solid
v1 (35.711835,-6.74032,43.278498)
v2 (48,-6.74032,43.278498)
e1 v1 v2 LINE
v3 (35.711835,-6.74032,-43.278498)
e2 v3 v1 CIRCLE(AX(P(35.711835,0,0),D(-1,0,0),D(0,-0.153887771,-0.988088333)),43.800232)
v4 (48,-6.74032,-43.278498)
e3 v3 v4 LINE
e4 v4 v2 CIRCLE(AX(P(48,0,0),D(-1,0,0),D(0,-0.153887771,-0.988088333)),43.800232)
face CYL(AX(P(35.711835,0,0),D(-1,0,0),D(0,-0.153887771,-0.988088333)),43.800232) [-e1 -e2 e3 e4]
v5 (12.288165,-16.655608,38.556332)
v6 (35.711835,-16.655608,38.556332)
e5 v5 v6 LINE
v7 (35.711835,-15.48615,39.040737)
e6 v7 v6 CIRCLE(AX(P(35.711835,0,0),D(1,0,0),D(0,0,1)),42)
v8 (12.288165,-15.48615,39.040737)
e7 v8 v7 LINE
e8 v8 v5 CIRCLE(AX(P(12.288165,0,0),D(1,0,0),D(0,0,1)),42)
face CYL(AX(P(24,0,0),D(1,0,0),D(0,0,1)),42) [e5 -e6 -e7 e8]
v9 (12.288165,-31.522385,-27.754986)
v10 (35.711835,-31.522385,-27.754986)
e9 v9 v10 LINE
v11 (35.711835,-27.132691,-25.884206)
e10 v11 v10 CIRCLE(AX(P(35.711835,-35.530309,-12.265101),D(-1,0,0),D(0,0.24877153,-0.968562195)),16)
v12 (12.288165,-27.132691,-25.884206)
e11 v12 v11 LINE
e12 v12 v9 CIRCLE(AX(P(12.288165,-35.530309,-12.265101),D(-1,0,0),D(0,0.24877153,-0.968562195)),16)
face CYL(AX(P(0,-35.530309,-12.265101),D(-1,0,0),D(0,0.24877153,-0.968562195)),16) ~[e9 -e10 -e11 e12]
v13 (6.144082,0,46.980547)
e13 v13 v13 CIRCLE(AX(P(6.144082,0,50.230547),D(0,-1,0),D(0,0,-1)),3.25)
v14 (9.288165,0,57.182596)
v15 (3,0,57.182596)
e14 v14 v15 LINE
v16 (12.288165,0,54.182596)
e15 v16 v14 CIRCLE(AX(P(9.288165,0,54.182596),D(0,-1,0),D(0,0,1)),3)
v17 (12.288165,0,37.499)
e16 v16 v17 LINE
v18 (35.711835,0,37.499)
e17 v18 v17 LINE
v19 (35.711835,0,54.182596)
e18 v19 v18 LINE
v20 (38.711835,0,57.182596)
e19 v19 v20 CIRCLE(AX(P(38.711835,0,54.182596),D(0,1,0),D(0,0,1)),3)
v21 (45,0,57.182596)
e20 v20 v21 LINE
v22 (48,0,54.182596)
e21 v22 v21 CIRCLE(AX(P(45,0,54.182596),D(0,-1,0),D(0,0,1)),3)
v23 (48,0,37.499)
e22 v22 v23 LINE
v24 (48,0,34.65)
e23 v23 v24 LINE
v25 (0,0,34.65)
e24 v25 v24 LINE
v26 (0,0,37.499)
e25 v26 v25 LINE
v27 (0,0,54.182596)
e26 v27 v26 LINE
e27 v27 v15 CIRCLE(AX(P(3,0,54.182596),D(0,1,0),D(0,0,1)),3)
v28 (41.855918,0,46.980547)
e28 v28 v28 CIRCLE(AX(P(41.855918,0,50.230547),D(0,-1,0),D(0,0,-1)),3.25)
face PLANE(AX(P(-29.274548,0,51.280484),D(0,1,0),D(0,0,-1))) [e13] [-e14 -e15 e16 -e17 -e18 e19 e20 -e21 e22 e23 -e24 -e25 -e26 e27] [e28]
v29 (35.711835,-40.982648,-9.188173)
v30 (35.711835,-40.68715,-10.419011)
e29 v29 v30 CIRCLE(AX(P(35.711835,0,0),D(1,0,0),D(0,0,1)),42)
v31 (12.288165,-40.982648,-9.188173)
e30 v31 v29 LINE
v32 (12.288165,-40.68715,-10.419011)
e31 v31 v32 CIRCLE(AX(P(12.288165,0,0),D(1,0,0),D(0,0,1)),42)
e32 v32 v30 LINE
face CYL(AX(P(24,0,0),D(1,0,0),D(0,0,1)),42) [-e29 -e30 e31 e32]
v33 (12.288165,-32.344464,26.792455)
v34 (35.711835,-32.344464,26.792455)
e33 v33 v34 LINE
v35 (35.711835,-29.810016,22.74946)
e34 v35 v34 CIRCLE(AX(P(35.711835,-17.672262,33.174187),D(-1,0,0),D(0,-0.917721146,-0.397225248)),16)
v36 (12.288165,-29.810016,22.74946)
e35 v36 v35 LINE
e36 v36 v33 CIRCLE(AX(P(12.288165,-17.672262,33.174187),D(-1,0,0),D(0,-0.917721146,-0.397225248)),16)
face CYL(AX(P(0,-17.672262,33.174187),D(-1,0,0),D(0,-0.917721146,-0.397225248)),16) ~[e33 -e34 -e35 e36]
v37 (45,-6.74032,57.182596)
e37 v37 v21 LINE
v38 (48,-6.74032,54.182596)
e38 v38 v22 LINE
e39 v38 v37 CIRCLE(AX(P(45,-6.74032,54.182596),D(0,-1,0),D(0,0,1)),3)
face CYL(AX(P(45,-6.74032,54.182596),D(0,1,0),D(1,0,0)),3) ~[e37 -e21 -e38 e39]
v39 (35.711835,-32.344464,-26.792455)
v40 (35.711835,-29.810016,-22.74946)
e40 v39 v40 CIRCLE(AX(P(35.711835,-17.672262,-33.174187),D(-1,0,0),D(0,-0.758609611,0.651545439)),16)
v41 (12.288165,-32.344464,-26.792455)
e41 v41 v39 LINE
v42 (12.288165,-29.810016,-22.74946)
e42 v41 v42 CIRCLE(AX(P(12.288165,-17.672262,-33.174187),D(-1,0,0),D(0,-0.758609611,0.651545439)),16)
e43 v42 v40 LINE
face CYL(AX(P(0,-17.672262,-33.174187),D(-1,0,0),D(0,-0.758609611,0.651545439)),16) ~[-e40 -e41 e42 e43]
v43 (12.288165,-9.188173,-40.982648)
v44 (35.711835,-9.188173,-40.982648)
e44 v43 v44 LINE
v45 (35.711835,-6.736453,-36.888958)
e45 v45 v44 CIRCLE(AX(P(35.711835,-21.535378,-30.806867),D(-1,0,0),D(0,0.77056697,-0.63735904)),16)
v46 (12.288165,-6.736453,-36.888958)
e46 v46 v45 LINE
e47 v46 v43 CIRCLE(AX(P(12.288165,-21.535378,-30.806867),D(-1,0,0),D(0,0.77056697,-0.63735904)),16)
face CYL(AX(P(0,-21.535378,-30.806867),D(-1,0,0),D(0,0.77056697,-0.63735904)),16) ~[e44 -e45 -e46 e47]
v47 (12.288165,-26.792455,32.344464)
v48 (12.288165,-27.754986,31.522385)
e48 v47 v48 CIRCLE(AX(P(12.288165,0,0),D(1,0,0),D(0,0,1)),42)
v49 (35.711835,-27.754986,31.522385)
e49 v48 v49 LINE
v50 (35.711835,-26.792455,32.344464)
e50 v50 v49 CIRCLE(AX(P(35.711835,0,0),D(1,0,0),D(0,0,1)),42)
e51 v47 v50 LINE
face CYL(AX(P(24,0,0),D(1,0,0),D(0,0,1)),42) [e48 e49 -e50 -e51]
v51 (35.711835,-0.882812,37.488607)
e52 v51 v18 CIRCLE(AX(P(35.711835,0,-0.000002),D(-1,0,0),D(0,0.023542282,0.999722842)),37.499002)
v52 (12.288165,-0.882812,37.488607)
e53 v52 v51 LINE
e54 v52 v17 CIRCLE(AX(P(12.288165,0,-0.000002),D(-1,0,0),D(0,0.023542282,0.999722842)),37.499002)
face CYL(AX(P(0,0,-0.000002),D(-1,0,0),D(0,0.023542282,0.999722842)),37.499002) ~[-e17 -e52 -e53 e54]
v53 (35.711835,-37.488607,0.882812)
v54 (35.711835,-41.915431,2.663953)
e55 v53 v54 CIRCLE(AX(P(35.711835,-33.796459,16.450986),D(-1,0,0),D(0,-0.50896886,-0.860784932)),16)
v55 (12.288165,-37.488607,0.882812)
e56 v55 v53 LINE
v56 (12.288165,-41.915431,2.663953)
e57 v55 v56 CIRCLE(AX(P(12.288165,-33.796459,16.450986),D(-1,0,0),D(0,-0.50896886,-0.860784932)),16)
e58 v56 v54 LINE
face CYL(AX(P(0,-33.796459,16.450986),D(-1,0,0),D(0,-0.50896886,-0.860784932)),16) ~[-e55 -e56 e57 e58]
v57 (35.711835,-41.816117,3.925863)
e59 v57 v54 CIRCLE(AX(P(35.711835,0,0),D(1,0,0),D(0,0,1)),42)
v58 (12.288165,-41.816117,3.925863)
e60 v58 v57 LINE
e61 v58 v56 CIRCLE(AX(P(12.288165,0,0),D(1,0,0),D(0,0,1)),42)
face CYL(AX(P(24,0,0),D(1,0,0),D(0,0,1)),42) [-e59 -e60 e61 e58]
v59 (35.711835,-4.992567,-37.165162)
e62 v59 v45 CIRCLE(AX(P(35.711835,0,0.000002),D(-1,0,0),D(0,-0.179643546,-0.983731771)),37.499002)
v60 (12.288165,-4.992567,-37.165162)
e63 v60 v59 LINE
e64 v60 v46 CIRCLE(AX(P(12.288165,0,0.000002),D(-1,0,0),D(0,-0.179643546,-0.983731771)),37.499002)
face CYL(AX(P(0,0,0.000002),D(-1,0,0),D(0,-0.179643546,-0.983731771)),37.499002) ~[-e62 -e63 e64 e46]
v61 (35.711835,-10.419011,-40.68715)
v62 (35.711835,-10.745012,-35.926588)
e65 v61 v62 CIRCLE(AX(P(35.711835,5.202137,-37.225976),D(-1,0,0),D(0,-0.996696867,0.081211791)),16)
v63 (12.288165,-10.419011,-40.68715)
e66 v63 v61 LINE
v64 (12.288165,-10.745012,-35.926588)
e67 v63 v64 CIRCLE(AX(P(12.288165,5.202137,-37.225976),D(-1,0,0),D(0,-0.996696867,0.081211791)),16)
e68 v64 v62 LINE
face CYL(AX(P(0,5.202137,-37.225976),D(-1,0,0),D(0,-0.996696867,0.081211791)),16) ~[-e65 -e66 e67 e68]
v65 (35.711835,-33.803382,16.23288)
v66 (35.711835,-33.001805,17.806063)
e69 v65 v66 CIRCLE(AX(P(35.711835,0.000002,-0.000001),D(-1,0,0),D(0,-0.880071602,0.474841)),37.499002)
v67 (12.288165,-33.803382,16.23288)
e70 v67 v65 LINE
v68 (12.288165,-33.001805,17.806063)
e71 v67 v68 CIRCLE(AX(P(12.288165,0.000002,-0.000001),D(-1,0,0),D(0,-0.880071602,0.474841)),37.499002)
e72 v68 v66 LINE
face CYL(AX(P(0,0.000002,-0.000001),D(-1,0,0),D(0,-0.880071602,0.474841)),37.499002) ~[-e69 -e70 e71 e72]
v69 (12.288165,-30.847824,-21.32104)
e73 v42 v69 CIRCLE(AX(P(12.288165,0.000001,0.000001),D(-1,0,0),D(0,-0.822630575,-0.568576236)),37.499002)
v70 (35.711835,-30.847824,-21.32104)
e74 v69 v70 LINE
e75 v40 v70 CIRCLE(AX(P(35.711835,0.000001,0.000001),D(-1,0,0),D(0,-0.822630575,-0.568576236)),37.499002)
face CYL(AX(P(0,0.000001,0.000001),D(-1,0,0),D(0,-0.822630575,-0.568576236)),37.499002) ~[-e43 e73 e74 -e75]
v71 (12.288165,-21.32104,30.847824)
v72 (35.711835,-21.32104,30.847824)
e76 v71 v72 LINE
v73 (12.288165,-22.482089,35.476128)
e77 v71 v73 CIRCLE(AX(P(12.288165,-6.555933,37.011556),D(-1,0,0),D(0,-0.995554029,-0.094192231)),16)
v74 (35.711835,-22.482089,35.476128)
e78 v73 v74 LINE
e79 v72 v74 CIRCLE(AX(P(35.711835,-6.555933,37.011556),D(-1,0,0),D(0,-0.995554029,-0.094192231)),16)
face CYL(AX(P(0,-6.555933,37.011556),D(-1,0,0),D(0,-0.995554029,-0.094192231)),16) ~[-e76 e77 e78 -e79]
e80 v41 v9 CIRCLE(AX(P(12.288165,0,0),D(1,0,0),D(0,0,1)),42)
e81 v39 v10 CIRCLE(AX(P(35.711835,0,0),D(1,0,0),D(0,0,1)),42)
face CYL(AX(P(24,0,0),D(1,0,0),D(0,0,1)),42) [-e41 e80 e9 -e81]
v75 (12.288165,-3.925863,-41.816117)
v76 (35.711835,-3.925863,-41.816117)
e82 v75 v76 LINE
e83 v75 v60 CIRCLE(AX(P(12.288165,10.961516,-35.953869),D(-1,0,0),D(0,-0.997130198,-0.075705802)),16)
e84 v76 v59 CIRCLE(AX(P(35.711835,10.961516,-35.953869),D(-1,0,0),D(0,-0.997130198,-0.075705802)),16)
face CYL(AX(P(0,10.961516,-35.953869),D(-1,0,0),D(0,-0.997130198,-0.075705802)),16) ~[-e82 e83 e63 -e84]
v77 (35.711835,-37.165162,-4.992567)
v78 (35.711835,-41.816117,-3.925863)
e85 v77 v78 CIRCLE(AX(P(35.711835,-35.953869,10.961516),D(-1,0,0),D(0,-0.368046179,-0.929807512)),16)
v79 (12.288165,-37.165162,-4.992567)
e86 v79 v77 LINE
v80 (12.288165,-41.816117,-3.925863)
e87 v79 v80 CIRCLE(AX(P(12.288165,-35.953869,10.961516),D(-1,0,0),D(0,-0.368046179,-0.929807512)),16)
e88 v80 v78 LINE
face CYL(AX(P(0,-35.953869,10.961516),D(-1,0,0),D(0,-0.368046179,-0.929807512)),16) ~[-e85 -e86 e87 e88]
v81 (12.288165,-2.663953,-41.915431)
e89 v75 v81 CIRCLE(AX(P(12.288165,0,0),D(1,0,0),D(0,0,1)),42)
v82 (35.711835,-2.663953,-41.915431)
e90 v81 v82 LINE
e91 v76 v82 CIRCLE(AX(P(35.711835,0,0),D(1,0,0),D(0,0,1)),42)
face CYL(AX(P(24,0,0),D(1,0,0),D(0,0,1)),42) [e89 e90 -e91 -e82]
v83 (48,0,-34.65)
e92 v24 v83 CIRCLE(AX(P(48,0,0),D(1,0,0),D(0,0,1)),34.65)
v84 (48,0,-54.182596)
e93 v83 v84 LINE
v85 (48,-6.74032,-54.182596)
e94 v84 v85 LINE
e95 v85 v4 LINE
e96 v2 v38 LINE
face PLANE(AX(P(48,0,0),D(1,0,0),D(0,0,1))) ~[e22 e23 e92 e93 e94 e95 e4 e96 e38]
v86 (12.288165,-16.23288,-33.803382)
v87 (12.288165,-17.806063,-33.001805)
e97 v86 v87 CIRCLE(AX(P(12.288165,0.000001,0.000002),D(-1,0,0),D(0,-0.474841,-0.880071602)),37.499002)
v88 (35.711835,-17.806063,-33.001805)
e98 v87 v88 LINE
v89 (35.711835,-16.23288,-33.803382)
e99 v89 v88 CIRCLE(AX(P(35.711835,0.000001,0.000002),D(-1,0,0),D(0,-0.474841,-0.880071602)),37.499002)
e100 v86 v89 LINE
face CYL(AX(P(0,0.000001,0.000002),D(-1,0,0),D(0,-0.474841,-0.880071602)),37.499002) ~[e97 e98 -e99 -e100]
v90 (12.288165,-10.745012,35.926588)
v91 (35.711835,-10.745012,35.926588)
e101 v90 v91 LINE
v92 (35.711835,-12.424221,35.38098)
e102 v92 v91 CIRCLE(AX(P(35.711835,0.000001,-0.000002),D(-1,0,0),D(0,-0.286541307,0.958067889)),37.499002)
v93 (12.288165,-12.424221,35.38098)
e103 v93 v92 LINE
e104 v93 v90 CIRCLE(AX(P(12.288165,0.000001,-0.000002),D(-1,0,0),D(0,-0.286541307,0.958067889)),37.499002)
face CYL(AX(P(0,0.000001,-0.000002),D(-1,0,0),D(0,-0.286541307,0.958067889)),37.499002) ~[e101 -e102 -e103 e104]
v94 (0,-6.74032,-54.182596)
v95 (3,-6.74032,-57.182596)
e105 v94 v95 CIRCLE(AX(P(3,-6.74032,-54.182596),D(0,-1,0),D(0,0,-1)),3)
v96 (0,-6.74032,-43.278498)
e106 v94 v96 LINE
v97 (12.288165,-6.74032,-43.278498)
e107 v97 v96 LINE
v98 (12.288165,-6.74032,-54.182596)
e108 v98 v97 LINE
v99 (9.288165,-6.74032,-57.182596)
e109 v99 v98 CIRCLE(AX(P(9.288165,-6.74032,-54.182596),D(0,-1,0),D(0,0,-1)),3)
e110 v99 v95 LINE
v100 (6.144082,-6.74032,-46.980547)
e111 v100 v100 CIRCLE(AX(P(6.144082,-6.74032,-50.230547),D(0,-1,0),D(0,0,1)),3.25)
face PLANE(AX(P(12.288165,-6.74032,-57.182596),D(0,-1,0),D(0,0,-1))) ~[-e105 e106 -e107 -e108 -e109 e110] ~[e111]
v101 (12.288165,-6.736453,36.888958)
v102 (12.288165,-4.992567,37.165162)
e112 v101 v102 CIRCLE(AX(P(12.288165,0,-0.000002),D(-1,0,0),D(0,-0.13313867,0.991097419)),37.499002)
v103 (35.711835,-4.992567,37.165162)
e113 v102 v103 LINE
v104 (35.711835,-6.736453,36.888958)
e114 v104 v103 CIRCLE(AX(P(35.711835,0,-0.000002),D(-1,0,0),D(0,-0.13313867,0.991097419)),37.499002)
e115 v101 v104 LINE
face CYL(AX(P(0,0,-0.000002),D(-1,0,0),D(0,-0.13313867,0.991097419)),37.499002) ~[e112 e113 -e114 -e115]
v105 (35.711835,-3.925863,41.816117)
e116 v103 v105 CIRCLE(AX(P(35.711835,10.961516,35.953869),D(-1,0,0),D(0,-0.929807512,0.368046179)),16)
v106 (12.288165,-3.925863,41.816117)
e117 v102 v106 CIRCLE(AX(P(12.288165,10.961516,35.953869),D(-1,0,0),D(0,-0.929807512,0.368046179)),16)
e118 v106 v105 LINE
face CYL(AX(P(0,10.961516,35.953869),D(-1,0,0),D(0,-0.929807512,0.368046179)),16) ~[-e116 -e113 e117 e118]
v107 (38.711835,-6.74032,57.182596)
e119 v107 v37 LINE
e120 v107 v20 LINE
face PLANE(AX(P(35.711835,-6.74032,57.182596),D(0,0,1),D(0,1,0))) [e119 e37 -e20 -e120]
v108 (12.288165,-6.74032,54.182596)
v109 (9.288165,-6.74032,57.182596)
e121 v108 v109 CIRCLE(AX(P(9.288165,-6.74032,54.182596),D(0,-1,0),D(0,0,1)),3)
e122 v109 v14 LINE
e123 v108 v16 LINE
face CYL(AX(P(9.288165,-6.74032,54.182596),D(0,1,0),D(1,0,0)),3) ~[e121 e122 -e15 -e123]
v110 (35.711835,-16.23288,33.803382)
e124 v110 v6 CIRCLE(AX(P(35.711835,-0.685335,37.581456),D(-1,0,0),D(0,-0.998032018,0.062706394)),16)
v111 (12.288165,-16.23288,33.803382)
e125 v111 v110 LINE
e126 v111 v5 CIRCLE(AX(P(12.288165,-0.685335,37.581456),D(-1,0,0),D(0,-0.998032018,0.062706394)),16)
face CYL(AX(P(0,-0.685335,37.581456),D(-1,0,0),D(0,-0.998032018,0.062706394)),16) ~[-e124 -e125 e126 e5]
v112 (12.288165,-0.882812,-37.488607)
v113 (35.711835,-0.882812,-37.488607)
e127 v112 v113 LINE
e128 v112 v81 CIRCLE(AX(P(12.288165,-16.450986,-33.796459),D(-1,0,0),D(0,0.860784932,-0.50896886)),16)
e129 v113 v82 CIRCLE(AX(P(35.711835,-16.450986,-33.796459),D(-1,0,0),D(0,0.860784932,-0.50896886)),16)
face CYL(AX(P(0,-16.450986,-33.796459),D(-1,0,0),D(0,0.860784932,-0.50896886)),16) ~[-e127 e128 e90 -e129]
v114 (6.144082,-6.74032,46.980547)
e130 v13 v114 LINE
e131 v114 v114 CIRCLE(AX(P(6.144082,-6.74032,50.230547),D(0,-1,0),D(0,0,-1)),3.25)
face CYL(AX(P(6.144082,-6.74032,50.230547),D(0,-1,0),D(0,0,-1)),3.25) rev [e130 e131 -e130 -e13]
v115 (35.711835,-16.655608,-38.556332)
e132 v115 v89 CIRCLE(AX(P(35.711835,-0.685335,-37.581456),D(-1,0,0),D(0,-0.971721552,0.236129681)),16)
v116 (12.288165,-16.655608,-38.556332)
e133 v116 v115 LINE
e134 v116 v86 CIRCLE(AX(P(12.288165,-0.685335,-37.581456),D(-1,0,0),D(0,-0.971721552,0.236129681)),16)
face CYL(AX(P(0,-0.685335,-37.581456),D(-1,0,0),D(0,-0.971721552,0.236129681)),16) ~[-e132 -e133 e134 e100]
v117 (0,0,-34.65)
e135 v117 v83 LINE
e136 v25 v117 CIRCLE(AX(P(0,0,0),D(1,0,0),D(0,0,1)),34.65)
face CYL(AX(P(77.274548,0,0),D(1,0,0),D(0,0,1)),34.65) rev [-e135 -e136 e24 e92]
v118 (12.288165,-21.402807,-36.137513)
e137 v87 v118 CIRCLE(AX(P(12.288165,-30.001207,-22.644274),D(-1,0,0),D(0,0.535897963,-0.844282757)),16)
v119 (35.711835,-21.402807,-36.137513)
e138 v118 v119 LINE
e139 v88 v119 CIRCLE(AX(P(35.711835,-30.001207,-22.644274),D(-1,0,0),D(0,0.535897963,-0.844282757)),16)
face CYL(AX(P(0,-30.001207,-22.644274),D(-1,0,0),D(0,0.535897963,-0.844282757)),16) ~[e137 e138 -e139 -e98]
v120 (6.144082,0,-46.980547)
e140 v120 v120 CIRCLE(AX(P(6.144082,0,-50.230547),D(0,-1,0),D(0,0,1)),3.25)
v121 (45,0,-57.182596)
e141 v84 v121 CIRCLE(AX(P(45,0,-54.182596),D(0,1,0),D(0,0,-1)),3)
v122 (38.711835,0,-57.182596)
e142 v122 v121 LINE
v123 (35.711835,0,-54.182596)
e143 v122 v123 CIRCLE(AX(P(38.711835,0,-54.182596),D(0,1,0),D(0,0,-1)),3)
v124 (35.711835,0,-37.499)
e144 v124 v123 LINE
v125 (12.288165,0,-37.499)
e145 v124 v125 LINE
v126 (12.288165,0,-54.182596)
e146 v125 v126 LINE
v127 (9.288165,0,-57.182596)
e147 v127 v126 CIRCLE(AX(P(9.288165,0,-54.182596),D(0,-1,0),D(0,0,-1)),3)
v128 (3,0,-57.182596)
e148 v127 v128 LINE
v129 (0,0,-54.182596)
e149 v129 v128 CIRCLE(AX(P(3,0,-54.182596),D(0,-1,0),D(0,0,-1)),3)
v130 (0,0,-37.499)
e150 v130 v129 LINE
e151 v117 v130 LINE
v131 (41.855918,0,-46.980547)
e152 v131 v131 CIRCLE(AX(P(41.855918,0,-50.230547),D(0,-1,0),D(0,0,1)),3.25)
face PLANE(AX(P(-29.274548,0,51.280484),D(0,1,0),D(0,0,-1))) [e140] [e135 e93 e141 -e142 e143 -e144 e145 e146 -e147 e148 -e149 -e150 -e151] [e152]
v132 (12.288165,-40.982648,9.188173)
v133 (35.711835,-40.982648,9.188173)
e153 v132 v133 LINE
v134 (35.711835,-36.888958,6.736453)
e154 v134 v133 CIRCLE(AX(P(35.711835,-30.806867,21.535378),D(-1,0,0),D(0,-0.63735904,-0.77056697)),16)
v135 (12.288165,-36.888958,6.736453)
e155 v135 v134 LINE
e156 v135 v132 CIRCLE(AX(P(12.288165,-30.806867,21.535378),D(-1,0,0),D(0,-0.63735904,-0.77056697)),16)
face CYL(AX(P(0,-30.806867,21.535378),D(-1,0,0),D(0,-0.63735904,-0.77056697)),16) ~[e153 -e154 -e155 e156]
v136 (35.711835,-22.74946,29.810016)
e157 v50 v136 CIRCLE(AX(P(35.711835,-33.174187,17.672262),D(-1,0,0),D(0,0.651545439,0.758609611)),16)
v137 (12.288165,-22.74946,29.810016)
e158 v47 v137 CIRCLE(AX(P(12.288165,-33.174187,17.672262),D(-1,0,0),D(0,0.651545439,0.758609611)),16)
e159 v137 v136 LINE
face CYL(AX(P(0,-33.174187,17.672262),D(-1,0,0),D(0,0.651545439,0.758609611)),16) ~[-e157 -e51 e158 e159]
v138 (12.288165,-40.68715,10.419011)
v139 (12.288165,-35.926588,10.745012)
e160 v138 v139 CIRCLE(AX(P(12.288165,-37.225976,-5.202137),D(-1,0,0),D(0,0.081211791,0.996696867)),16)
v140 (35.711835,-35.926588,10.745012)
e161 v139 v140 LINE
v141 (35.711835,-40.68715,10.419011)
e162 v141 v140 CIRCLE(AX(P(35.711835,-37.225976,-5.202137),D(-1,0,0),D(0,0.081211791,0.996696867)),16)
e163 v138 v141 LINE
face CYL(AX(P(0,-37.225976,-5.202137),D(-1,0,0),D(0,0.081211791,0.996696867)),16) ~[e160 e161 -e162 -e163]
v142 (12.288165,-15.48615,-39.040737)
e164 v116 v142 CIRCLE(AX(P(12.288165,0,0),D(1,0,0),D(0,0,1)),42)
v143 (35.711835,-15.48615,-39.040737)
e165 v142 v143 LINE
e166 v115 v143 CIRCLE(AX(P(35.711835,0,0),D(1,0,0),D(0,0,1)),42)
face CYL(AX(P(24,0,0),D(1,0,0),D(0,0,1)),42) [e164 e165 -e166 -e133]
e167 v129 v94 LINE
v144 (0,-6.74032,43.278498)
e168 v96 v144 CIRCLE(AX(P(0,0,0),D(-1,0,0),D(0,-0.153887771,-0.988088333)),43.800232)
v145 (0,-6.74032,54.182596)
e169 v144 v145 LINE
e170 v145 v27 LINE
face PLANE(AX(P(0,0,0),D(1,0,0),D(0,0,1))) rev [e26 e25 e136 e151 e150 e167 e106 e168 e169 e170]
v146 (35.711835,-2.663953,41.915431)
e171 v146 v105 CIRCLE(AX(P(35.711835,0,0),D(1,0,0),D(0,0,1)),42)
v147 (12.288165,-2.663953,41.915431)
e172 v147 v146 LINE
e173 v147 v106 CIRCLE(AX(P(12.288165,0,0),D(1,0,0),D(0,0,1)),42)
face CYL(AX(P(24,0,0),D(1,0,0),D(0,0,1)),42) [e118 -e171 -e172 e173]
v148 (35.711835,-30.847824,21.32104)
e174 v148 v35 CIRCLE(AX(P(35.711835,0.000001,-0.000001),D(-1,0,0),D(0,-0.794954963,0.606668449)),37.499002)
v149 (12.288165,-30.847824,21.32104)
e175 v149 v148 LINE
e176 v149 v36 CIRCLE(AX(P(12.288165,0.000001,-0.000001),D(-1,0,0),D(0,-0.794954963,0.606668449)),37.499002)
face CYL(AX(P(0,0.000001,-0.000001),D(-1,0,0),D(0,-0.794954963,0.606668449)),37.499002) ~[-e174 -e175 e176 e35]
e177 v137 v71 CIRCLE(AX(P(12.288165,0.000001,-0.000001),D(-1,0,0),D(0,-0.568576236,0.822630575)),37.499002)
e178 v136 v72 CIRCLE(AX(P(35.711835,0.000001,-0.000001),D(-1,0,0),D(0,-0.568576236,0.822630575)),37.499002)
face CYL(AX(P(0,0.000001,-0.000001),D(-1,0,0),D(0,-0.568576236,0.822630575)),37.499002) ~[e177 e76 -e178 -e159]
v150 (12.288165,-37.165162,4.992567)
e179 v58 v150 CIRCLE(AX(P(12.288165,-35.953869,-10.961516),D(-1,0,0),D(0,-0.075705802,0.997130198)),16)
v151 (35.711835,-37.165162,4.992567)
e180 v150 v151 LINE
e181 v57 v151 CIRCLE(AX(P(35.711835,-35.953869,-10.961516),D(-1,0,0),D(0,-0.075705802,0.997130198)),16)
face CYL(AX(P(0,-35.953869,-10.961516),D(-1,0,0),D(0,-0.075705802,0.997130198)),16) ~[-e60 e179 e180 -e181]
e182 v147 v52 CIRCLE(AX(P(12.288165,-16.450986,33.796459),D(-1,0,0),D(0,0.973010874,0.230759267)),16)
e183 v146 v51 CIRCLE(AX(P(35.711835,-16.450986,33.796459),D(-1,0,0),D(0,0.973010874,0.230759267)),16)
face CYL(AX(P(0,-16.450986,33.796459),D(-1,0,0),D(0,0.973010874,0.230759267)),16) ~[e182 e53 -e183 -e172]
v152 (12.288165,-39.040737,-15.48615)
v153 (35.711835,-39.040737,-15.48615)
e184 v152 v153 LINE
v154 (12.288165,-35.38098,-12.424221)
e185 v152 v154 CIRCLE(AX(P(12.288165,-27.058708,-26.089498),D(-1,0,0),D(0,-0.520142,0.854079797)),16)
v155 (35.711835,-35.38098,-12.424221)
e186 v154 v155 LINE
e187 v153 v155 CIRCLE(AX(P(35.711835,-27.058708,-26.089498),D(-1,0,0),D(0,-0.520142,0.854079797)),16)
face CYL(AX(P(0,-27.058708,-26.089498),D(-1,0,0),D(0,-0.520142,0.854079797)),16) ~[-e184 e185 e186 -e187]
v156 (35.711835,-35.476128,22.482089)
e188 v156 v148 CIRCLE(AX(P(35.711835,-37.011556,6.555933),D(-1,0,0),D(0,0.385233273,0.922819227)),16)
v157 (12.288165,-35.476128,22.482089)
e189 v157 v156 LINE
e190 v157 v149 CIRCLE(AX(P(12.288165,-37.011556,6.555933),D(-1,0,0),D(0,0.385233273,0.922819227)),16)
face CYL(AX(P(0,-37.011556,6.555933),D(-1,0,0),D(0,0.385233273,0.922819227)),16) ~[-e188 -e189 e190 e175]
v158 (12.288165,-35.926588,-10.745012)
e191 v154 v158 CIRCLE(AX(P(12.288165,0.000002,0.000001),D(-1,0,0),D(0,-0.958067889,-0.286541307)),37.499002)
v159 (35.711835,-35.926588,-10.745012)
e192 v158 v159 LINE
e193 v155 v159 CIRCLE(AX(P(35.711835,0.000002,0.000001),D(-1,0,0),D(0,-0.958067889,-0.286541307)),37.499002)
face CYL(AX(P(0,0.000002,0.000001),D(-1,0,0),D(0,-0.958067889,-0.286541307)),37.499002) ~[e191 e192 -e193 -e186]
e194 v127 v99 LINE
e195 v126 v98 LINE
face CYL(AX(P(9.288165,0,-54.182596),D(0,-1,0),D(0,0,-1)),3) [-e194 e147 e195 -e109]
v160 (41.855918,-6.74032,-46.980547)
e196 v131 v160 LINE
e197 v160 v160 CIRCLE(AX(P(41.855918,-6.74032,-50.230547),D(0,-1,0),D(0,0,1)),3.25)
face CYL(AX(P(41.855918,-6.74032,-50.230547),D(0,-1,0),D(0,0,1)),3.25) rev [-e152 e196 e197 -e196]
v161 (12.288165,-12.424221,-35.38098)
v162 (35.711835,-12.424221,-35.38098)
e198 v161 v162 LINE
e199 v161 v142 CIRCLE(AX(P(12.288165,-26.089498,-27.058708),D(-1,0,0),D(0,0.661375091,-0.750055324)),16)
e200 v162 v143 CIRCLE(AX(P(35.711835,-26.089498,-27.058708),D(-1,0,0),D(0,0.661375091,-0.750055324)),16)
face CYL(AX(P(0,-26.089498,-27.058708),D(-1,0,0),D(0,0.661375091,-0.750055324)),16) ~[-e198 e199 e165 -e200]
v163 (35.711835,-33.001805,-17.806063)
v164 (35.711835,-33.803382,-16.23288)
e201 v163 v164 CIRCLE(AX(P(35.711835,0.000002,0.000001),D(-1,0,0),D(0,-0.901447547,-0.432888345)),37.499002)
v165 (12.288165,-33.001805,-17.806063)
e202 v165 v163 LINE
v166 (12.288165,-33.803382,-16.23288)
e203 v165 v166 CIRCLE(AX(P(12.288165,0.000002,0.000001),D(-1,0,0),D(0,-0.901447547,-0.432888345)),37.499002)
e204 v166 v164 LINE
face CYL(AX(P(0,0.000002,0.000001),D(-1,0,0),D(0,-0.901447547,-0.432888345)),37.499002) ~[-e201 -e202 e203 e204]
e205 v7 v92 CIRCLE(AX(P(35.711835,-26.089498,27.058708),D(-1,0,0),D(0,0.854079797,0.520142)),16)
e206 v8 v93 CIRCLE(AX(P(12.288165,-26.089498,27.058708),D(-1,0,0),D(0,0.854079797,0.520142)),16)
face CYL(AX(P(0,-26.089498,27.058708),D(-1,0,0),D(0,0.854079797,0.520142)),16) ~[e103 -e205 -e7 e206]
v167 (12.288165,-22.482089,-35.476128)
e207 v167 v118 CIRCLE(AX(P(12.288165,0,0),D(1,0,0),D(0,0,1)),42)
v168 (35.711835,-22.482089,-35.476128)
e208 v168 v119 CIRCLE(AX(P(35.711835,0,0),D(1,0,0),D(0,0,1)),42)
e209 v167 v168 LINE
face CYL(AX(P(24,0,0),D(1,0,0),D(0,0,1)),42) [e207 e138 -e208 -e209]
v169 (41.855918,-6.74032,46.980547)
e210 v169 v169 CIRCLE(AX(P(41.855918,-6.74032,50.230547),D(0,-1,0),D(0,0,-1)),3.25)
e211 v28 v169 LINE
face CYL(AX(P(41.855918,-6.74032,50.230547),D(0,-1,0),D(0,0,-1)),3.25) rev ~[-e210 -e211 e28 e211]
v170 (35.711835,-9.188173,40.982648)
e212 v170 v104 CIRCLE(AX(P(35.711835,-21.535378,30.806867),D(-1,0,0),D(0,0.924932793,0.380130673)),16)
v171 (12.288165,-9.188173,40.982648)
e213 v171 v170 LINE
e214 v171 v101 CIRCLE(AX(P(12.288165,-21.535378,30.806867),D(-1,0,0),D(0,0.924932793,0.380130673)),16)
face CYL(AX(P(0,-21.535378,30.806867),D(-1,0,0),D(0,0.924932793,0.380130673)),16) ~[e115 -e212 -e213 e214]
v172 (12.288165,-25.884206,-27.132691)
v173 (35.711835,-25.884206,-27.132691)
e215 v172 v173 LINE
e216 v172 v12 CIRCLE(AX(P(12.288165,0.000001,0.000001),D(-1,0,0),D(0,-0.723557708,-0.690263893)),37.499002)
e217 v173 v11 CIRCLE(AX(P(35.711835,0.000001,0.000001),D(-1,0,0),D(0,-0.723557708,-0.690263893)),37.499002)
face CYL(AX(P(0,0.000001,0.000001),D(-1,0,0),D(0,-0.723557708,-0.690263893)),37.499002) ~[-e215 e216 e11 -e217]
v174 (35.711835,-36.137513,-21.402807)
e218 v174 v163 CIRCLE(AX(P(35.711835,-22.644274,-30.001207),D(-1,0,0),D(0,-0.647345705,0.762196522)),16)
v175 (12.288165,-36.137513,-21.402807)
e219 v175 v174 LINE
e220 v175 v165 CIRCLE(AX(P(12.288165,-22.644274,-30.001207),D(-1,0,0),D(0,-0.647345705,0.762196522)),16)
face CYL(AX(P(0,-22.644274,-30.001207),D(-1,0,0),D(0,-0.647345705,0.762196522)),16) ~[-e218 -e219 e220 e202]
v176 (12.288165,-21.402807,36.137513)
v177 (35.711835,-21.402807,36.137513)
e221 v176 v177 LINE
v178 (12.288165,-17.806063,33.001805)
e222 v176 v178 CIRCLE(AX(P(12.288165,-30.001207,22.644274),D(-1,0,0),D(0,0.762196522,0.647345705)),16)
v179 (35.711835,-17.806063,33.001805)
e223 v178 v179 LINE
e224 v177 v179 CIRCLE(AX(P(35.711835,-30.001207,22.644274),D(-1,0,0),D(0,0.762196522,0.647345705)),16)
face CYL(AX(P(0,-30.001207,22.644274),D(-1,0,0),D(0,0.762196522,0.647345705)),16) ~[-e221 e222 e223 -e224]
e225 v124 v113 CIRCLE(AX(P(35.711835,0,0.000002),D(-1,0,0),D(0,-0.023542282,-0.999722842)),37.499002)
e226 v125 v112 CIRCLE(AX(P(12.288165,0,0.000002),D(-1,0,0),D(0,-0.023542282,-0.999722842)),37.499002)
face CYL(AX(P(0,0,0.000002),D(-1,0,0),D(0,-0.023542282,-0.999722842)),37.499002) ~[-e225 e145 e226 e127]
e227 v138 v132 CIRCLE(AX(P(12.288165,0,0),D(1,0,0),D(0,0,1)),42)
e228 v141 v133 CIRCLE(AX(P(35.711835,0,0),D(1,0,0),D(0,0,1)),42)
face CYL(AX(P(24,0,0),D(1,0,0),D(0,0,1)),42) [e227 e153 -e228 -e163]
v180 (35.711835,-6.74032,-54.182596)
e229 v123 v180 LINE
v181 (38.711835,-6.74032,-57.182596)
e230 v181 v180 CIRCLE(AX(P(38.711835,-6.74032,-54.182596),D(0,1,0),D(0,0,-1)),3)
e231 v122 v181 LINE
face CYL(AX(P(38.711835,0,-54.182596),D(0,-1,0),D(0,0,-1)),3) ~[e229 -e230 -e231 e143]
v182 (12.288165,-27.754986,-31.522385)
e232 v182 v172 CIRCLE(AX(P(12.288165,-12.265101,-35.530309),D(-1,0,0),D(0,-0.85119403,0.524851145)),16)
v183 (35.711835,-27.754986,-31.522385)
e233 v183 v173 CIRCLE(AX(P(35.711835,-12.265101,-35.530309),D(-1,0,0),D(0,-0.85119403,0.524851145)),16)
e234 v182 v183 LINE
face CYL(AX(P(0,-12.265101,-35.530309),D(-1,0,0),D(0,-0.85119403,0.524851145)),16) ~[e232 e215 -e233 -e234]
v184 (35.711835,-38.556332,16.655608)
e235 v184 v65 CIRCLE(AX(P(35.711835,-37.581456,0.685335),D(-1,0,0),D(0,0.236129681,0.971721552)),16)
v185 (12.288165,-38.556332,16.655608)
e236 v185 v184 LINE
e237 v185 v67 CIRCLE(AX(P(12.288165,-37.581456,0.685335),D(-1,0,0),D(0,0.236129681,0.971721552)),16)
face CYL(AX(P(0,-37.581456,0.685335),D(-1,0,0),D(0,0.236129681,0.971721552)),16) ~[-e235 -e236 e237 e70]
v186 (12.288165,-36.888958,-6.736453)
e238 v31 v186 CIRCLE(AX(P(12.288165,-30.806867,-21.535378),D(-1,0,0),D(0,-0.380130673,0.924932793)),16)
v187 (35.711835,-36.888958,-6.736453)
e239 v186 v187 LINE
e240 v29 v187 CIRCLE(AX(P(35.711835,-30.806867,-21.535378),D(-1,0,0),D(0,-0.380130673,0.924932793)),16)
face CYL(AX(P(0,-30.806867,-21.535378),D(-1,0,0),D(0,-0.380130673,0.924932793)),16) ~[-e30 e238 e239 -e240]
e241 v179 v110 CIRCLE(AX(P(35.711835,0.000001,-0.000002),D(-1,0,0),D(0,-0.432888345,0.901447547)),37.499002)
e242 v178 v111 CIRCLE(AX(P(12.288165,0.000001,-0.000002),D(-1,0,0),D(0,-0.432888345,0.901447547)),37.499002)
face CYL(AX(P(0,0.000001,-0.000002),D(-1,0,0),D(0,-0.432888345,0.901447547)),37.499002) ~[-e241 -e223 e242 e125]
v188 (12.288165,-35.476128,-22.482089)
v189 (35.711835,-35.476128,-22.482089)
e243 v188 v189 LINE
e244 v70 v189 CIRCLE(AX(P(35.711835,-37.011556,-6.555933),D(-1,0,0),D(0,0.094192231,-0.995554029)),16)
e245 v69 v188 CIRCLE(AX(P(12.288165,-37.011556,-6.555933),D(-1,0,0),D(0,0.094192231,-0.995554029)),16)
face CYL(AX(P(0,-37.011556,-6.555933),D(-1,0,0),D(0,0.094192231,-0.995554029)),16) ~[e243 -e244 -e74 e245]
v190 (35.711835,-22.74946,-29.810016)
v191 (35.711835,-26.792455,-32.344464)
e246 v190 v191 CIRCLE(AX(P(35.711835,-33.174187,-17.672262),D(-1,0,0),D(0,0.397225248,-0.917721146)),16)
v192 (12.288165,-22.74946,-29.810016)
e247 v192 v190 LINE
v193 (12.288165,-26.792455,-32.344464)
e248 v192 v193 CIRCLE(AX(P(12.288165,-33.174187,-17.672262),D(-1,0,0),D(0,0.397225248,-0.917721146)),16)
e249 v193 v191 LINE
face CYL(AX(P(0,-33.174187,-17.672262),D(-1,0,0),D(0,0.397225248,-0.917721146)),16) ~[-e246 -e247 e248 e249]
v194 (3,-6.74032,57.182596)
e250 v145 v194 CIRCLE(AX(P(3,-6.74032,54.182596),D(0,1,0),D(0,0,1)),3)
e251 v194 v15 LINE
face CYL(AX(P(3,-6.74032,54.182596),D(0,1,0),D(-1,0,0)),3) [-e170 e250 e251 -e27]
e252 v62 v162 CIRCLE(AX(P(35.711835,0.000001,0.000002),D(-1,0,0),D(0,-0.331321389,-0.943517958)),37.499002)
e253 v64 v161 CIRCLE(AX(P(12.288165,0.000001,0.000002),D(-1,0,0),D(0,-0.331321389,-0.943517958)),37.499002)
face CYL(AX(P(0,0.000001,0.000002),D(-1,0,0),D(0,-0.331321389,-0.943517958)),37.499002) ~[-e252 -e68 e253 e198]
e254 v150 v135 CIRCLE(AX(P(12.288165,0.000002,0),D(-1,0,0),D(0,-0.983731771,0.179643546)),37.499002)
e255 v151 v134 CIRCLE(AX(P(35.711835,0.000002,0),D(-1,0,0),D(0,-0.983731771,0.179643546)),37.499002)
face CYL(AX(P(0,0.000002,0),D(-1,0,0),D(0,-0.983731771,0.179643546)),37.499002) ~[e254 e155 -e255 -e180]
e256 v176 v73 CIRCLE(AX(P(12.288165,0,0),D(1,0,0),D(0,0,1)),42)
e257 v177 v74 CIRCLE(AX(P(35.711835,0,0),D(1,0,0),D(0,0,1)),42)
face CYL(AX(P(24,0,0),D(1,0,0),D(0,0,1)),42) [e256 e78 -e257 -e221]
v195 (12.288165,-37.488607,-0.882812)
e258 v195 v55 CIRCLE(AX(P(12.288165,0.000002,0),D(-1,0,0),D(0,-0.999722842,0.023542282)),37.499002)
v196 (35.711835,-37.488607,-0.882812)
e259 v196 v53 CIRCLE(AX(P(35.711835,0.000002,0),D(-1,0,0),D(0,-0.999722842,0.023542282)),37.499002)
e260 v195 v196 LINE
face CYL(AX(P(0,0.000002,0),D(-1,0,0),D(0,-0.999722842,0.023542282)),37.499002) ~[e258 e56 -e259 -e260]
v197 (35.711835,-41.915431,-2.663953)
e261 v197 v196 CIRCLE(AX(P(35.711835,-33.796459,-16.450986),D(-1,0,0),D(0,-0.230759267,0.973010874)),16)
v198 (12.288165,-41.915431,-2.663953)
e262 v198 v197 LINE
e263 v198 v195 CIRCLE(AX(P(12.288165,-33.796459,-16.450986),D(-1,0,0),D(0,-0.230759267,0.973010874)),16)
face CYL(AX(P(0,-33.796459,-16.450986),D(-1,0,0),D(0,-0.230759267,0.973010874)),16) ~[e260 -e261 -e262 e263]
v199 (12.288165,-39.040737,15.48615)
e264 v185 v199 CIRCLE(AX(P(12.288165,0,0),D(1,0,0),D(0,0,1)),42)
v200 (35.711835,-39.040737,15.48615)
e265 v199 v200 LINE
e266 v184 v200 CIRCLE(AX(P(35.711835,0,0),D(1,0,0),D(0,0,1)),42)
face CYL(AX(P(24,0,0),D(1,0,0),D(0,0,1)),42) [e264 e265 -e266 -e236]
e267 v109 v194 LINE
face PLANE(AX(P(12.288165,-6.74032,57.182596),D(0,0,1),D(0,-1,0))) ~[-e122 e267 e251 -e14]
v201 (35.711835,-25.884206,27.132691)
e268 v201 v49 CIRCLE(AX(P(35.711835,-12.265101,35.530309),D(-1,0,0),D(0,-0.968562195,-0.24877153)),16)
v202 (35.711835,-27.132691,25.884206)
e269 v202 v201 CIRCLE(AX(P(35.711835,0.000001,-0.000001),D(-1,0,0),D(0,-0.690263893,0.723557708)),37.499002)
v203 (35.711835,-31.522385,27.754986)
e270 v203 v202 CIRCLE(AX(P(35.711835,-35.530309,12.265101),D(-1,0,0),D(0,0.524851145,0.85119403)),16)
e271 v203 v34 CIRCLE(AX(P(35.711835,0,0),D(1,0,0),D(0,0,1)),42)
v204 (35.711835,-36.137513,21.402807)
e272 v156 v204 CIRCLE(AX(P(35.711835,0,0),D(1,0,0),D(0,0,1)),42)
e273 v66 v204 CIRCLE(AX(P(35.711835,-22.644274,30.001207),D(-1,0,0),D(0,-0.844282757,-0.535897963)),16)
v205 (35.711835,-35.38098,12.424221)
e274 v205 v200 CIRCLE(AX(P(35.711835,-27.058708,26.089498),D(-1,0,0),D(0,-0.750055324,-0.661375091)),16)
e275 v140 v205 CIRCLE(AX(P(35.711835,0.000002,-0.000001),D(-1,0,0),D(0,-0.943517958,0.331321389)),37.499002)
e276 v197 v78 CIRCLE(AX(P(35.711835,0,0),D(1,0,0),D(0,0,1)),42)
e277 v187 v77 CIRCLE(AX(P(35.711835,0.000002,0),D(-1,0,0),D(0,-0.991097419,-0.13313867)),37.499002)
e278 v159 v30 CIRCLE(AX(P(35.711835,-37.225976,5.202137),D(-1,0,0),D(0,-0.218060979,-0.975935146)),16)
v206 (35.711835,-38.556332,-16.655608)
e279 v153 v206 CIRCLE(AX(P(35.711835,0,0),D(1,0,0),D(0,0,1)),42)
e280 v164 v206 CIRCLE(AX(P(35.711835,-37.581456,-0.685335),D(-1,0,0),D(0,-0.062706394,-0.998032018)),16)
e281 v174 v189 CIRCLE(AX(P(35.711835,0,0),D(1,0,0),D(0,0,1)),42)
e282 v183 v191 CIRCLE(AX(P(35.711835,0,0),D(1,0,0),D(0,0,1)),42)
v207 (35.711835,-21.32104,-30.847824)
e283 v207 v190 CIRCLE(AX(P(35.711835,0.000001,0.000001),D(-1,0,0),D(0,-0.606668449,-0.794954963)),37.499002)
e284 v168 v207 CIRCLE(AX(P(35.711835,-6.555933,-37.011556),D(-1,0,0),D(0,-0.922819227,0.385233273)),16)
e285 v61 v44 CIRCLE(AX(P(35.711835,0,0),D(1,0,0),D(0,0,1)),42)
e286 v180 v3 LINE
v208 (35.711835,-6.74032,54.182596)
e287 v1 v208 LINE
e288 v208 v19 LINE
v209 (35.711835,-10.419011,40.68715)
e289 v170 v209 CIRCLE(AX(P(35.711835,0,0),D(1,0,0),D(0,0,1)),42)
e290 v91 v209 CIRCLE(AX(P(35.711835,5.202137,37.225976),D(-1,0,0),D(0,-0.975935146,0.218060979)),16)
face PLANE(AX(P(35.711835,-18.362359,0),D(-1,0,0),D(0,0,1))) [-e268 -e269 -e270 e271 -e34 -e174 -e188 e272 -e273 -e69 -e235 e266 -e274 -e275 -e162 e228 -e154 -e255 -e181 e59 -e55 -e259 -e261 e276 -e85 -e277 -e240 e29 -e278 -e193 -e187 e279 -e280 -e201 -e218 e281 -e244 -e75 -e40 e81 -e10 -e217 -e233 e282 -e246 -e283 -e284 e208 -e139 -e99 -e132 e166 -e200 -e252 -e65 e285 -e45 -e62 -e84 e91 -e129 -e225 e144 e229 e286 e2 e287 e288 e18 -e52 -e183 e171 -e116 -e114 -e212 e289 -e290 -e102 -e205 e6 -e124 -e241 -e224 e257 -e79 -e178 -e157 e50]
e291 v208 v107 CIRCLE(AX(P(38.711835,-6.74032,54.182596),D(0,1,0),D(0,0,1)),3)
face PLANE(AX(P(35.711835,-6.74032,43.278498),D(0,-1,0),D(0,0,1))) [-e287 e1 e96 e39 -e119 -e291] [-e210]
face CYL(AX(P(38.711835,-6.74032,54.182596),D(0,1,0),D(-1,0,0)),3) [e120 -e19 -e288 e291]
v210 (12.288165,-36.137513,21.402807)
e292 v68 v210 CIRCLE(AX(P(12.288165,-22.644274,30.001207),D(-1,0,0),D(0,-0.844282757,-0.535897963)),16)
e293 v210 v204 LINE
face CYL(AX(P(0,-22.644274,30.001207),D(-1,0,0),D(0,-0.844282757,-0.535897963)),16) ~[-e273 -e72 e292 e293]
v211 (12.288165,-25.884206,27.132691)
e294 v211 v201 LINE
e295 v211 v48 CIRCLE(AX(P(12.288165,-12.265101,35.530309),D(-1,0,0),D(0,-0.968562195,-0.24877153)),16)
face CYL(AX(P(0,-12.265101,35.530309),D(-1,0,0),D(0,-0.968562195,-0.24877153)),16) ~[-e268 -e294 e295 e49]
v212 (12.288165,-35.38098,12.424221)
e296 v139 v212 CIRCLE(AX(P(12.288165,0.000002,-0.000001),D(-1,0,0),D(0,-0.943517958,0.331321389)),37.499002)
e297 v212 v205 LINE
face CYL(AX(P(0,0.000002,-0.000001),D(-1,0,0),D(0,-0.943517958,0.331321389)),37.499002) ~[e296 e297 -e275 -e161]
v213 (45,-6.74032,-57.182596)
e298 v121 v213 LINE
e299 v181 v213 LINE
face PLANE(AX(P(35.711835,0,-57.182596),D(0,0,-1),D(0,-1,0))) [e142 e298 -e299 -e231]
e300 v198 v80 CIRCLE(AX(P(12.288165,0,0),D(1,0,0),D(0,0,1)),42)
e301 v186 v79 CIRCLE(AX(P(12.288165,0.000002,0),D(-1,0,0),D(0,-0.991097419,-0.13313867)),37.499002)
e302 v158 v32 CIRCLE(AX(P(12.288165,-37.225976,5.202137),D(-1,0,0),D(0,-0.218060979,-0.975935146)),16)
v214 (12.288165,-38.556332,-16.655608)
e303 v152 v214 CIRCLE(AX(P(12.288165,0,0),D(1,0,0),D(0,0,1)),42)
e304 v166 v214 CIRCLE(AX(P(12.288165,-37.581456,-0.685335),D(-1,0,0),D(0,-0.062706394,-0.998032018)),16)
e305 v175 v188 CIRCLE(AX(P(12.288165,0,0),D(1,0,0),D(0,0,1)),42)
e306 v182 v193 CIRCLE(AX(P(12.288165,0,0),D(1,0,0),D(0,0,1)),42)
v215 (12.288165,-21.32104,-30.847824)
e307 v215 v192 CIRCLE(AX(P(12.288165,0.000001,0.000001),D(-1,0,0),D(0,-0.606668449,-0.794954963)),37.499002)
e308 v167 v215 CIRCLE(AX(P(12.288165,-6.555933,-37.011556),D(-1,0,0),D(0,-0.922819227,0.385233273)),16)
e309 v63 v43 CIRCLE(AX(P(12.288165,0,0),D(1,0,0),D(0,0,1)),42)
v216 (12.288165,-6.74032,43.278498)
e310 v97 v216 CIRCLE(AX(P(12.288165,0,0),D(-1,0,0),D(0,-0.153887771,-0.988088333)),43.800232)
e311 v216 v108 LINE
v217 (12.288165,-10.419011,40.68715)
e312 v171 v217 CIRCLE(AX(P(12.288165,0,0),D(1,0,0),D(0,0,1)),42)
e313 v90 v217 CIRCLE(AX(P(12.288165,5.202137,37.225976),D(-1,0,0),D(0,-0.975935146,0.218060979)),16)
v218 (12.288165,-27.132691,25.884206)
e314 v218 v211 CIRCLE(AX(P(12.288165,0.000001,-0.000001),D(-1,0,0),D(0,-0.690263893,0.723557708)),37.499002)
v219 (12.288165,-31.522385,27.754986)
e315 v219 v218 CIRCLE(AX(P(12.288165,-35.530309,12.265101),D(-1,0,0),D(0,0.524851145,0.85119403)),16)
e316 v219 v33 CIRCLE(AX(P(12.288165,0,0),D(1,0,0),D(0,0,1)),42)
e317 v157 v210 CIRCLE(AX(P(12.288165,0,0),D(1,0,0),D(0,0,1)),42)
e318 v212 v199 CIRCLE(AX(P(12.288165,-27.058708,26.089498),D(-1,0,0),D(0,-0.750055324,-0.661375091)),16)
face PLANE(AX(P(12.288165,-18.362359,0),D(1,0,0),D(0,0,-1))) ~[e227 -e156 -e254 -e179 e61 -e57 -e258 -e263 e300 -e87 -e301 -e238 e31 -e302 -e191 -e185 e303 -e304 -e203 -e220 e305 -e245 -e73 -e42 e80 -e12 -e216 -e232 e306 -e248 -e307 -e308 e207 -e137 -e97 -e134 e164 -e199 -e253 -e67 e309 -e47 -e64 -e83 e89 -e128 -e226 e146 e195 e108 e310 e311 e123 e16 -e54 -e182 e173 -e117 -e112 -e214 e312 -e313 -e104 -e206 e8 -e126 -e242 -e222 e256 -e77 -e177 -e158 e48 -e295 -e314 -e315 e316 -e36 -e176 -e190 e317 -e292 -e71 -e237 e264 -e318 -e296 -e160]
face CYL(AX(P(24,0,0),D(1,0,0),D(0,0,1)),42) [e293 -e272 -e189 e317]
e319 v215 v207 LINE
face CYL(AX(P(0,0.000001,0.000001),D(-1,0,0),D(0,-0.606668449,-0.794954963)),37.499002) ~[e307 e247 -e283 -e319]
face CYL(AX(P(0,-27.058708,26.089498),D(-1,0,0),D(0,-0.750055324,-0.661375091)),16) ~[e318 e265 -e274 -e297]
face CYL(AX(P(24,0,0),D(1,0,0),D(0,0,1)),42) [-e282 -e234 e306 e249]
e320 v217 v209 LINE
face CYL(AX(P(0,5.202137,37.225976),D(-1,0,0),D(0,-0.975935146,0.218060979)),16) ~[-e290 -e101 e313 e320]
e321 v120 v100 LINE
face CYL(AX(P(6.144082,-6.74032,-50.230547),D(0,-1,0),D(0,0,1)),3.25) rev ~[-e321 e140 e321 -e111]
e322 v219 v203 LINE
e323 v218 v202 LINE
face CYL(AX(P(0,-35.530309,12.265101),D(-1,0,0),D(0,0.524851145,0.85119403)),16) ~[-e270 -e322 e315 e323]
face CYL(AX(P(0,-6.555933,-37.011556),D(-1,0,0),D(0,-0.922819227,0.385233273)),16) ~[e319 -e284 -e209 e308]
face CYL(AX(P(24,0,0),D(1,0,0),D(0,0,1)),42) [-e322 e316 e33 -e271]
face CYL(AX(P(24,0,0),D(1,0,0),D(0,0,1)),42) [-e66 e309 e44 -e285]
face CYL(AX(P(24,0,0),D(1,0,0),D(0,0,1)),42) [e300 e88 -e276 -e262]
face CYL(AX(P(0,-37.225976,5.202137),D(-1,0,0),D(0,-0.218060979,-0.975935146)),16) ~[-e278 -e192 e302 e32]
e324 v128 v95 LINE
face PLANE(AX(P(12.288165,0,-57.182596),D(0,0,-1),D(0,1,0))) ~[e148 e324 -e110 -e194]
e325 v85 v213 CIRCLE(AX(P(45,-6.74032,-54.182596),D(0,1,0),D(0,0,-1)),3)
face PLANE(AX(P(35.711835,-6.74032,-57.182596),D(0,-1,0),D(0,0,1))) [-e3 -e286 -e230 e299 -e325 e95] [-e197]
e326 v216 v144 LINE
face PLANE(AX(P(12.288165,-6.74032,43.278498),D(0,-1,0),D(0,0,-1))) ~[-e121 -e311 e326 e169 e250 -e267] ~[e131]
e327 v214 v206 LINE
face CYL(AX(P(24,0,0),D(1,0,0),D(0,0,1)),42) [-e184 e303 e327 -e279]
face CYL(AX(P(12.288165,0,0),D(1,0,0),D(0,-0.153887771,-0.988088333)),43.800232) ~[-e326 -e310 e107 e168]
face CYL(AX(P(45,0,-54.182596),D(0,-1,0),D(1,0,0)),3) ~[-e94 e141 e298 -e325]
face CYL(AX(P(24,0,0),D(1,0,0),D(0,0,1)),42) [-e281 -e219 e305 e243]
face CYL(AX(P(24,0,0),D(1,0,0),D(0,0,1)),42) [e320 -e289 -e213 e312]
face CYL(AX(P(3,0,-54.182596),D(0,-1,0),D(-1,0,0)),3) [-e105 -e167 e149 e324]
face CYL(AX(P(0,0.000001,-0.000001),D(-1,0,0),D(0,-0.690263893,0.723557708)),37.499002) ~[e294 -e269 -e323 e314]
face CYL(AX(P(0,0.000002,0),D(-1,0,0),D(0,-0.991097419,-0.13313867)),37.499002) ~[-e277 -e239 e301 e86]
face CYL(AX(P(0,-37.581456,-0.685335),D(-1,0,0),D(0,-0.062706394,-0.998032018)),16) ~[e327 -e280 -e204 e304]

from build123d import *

# Parameters (mm, degrees)
BASPROSKE_W             = 48
BASPROSKE_H             = 42
TOOTHCUT_DEPTH          = 77.367532368
TEETHCUTS_COUNT         = 40
TEETHCUTS_ANGLE         = 351
BORSKE_R                = 32.5
BORE_DEPTH              = 50.0000508
CUT_EXTRUDE1_DEPTH      = 77.274548253
CUT_EXTRUDE1_DEPTH_BACK = 77.274548253
SKETCH1_R               = 34.65
CUT_EXTRUDE2_DEPTH      = 77.274548253
CUT_EXTRUDE2_DEPTH_BACK = 77.274548253
SKETCH2_W               = 102.897600885
SKETCH2_H               = 48.377080865
BOSS_EXTRUDE1_START     = -12.28816495
BOSS_EXTRUDE1_DEPTH     = 12.28816495
SKETCH4_R               = 3.25
CUT_EXTRUDE3_DEPTH      = 84.350383201
MIRROR3_COPY_1_SKETCH_R = 3.25
MIRROR3_COPY_1_DEPTH    = 84.350383201
FILLET1_R               = 3


with BuildPart() as part:
    # BasProSke → Base-Revolve (revolve)
    with BuildSketch(Plane(origin=(0, 0, 0), x_dir=(1, 0, 0), z_dir=(0, 1, 0)), mode=Mode.PRIVATE) as base_revolve_sk:
        with Locations((24, 21)):
            Rectangle(BASPROSKE_W, BASPROSKE_H)
    revolve(base_revolve_sk.sketch.rotate(Axis((-10, 0, 0), (1, 0, 0)), 180), axis=Axis((-10, 0, 0), (1, 0, 0)))

    # TooCutSke → ToothCut (cut, through all)
    with BuildSketch(Plane(origin=(0, 0, 0), x_dir=(0, 0, -1), z_dir=(1, 0, 0))):
        with BuildLine():
            ThreePointArc((0.882812088, 37.488606854), (0, 37.499), (-0.882812088, 37.488606854))
            ThreePointArc((-0.882812088, 37.488606854), (-1.612748684, 39.782000434), (-2.678427154, 41.939960338))
            ThreePointArc((-2.678427154, 41.939960338), (0, 42.0254), (2.678427154, 41.939960338))
            ThreePointArc((2.678427154, 41.939960338), (1.612748684, 39.782000434), (0.882812088, 37.488606854))
        make_face()
    toothcut = extrude(amount=TOOTHCUT_DEPTH, mode=Mode.SUBTRACT)

    # TeethCuts: ToothCut ×40 about axis
    teethcuts_axis = Axis((-10, 0, 0), (1, 0, 0))
    for i in range(1, TEETHCUTS_COUNT):
        add(toothcut.rotate(teethcuts_axis, i * TEETHCUTS_ANGLE / (TEETHCUTS_COUNT - 1)), mode=Mode.SUBTRACT)

    # BorSke → Bore (cut, symmetric)
    with BuildSketch(Plane(origin=(0, 0, 0), x_dir=(0, 0, -1), z_dir=(1, 0, 0))):
        with Locations(Location((0, 0, 0), (0, 0, 180))):
            Circle(BORSKE_R)
    extrude(amount=BORE_DEPTH, both=True, mode=Mode.SUBTRACT)

    # Sketch1 → Cut-Extrude1 (cut, two sides: drawn at the far end of the back side and taken through both)
    with BuildSketch(Plane.ZY.offset(-CUT_EXTRUDE1_DEPTH_BACK)):
        Circle(SKETCH1_R)
    extrude(amount=CUT_EXTRUDE1_DEPTH + CUT_EXTRUDE1_DEPTH_BACK, mode=Mode.SUBTRACT)

    # Sketch2 → Cut-Extrude2 (cut, two sides: drawn at the far end of the back side and taken through both)
    with BuildSketch(Plane(origin=(48, 0, 0), x_dir=(0, 0, -1), z_dir=(1, 0, 0)).offset(-CUT_EXTRUDE2_DEPTH_BACK)):
        with Locations((0.168316686, 24.188540433)):
            Rectangle(SKETCH2_W, SKETCH2_H)
    extrude(amount=CUT_EXTRUDE2_DEPTH + CUT_EXTRUDE2_DEPTH_BACK, mode=Mode.SUBTRACT)

    # Sketch3 → Boss-Extrude1 (add)
    with BuildSketch(Plane(origin=(48, 0, 0), x_dir=(0, 0, -1), z_dir=(1, 0, 0)).offset(BOSS_EXTRUDE1_START)):
        with BuildLine():
            Line((34.65, 0), (57.182596138, 0))
            Line((57.182596138, 0), (57.182596138, -6.740320101))
            Line((57.182596138, -6.740320101), (43.278498338, -6.740320101))
            ThreePointArc((43.278498338, -6.740320101), (0, -43.800232116), (-43.278498338, -6.740320101))
            Line((-43.278498338, -6.740320101), (-57.182596138, -6.740320101))
            Line((-57.182596138, -6.740320101), (-57.182596138, 0))
            Line((-57.182596138, 0), (-34.65, 0))
            ThreePointArc((-34.65, 0), (0, -34.65), (34.65, 0))
        make_face()
    boss_extrude1 = extrude(amount=BOSS_EXTRUDE1_DEPTH)

    # Mirror1: Boss-Extrude1 across plane
    add(boss_extrude1.mirror(Plane(origin=(24, 0, 0), x_dir=(0, 0, 1), z_dir=(1, 0, 0))))

    # Sketch4 → Cut-Extrude3 (cut, symmetric)
    with BuildSketch(Plane.XZ.offset(6.740320101)):
        with Locations(Location((41.855917525, 50.230547238, 0), (0, 0, 270))):
            Circle(SKETCH4_R)
    cut_extrude3 = extrude(amount=CUT_EXTRUDE3_DEPTH, both=True, mode=Mode.SUBTRACT)

    # Mirror2: Cut-Extrude3 across plane
    add(cut_extrude3.mirror(Plane.XY), mode=Mode.SUBTRACT)

    # Mirror3: Cut-Extrude3 across plane
    add(cut_extrude3.mirror(Plane(origin=(24, 0, 0), x_dir=(0, 0, 1), z_dir=(1, 0, 0))), mode=Mode.SUBTRACT)

    # Mirror3 copy 1 sketch → Mirror3 copy 1 (cut, symmetric)
    with BuildSketch(Plane(origin=(48, -6.740320101, 0), x_dir=(-1, 0, 0), z_dir=(0, -1, 0))):
        with Locations(Location((41.855917525, 50.230547238, 0), (0, 0, 270))):
            Circle(MIRROR3_COPY_1_SKETCH_R)
    extrude(amount=MIRROR3_COPY_1_DEPTH, both=True, mode=Mode.SUBTRACT)

    # Fillet1
    fillet1_edges = [part.edges().sort_by_distance(p)[0] for p in [
        (0, -3.37016005, -57.182596138),
        (0, -3.37016005, 57.182596138),
        (12.28816495, -3.37016005, 57.182596138),
        (12.28816495, -3.37016005, -57.182596138),
        (35.71183505, -3.37016005, -57.182596138),
        (35.71183505, -3.37016005, 57.182596138),
        (48, -3.37016005, 57.182596138),
        (48, -3.37016005, -57.182596138),
    ]]
    fillet(fillet1_edges, radius=FILLET1_R)


solid = part.part
